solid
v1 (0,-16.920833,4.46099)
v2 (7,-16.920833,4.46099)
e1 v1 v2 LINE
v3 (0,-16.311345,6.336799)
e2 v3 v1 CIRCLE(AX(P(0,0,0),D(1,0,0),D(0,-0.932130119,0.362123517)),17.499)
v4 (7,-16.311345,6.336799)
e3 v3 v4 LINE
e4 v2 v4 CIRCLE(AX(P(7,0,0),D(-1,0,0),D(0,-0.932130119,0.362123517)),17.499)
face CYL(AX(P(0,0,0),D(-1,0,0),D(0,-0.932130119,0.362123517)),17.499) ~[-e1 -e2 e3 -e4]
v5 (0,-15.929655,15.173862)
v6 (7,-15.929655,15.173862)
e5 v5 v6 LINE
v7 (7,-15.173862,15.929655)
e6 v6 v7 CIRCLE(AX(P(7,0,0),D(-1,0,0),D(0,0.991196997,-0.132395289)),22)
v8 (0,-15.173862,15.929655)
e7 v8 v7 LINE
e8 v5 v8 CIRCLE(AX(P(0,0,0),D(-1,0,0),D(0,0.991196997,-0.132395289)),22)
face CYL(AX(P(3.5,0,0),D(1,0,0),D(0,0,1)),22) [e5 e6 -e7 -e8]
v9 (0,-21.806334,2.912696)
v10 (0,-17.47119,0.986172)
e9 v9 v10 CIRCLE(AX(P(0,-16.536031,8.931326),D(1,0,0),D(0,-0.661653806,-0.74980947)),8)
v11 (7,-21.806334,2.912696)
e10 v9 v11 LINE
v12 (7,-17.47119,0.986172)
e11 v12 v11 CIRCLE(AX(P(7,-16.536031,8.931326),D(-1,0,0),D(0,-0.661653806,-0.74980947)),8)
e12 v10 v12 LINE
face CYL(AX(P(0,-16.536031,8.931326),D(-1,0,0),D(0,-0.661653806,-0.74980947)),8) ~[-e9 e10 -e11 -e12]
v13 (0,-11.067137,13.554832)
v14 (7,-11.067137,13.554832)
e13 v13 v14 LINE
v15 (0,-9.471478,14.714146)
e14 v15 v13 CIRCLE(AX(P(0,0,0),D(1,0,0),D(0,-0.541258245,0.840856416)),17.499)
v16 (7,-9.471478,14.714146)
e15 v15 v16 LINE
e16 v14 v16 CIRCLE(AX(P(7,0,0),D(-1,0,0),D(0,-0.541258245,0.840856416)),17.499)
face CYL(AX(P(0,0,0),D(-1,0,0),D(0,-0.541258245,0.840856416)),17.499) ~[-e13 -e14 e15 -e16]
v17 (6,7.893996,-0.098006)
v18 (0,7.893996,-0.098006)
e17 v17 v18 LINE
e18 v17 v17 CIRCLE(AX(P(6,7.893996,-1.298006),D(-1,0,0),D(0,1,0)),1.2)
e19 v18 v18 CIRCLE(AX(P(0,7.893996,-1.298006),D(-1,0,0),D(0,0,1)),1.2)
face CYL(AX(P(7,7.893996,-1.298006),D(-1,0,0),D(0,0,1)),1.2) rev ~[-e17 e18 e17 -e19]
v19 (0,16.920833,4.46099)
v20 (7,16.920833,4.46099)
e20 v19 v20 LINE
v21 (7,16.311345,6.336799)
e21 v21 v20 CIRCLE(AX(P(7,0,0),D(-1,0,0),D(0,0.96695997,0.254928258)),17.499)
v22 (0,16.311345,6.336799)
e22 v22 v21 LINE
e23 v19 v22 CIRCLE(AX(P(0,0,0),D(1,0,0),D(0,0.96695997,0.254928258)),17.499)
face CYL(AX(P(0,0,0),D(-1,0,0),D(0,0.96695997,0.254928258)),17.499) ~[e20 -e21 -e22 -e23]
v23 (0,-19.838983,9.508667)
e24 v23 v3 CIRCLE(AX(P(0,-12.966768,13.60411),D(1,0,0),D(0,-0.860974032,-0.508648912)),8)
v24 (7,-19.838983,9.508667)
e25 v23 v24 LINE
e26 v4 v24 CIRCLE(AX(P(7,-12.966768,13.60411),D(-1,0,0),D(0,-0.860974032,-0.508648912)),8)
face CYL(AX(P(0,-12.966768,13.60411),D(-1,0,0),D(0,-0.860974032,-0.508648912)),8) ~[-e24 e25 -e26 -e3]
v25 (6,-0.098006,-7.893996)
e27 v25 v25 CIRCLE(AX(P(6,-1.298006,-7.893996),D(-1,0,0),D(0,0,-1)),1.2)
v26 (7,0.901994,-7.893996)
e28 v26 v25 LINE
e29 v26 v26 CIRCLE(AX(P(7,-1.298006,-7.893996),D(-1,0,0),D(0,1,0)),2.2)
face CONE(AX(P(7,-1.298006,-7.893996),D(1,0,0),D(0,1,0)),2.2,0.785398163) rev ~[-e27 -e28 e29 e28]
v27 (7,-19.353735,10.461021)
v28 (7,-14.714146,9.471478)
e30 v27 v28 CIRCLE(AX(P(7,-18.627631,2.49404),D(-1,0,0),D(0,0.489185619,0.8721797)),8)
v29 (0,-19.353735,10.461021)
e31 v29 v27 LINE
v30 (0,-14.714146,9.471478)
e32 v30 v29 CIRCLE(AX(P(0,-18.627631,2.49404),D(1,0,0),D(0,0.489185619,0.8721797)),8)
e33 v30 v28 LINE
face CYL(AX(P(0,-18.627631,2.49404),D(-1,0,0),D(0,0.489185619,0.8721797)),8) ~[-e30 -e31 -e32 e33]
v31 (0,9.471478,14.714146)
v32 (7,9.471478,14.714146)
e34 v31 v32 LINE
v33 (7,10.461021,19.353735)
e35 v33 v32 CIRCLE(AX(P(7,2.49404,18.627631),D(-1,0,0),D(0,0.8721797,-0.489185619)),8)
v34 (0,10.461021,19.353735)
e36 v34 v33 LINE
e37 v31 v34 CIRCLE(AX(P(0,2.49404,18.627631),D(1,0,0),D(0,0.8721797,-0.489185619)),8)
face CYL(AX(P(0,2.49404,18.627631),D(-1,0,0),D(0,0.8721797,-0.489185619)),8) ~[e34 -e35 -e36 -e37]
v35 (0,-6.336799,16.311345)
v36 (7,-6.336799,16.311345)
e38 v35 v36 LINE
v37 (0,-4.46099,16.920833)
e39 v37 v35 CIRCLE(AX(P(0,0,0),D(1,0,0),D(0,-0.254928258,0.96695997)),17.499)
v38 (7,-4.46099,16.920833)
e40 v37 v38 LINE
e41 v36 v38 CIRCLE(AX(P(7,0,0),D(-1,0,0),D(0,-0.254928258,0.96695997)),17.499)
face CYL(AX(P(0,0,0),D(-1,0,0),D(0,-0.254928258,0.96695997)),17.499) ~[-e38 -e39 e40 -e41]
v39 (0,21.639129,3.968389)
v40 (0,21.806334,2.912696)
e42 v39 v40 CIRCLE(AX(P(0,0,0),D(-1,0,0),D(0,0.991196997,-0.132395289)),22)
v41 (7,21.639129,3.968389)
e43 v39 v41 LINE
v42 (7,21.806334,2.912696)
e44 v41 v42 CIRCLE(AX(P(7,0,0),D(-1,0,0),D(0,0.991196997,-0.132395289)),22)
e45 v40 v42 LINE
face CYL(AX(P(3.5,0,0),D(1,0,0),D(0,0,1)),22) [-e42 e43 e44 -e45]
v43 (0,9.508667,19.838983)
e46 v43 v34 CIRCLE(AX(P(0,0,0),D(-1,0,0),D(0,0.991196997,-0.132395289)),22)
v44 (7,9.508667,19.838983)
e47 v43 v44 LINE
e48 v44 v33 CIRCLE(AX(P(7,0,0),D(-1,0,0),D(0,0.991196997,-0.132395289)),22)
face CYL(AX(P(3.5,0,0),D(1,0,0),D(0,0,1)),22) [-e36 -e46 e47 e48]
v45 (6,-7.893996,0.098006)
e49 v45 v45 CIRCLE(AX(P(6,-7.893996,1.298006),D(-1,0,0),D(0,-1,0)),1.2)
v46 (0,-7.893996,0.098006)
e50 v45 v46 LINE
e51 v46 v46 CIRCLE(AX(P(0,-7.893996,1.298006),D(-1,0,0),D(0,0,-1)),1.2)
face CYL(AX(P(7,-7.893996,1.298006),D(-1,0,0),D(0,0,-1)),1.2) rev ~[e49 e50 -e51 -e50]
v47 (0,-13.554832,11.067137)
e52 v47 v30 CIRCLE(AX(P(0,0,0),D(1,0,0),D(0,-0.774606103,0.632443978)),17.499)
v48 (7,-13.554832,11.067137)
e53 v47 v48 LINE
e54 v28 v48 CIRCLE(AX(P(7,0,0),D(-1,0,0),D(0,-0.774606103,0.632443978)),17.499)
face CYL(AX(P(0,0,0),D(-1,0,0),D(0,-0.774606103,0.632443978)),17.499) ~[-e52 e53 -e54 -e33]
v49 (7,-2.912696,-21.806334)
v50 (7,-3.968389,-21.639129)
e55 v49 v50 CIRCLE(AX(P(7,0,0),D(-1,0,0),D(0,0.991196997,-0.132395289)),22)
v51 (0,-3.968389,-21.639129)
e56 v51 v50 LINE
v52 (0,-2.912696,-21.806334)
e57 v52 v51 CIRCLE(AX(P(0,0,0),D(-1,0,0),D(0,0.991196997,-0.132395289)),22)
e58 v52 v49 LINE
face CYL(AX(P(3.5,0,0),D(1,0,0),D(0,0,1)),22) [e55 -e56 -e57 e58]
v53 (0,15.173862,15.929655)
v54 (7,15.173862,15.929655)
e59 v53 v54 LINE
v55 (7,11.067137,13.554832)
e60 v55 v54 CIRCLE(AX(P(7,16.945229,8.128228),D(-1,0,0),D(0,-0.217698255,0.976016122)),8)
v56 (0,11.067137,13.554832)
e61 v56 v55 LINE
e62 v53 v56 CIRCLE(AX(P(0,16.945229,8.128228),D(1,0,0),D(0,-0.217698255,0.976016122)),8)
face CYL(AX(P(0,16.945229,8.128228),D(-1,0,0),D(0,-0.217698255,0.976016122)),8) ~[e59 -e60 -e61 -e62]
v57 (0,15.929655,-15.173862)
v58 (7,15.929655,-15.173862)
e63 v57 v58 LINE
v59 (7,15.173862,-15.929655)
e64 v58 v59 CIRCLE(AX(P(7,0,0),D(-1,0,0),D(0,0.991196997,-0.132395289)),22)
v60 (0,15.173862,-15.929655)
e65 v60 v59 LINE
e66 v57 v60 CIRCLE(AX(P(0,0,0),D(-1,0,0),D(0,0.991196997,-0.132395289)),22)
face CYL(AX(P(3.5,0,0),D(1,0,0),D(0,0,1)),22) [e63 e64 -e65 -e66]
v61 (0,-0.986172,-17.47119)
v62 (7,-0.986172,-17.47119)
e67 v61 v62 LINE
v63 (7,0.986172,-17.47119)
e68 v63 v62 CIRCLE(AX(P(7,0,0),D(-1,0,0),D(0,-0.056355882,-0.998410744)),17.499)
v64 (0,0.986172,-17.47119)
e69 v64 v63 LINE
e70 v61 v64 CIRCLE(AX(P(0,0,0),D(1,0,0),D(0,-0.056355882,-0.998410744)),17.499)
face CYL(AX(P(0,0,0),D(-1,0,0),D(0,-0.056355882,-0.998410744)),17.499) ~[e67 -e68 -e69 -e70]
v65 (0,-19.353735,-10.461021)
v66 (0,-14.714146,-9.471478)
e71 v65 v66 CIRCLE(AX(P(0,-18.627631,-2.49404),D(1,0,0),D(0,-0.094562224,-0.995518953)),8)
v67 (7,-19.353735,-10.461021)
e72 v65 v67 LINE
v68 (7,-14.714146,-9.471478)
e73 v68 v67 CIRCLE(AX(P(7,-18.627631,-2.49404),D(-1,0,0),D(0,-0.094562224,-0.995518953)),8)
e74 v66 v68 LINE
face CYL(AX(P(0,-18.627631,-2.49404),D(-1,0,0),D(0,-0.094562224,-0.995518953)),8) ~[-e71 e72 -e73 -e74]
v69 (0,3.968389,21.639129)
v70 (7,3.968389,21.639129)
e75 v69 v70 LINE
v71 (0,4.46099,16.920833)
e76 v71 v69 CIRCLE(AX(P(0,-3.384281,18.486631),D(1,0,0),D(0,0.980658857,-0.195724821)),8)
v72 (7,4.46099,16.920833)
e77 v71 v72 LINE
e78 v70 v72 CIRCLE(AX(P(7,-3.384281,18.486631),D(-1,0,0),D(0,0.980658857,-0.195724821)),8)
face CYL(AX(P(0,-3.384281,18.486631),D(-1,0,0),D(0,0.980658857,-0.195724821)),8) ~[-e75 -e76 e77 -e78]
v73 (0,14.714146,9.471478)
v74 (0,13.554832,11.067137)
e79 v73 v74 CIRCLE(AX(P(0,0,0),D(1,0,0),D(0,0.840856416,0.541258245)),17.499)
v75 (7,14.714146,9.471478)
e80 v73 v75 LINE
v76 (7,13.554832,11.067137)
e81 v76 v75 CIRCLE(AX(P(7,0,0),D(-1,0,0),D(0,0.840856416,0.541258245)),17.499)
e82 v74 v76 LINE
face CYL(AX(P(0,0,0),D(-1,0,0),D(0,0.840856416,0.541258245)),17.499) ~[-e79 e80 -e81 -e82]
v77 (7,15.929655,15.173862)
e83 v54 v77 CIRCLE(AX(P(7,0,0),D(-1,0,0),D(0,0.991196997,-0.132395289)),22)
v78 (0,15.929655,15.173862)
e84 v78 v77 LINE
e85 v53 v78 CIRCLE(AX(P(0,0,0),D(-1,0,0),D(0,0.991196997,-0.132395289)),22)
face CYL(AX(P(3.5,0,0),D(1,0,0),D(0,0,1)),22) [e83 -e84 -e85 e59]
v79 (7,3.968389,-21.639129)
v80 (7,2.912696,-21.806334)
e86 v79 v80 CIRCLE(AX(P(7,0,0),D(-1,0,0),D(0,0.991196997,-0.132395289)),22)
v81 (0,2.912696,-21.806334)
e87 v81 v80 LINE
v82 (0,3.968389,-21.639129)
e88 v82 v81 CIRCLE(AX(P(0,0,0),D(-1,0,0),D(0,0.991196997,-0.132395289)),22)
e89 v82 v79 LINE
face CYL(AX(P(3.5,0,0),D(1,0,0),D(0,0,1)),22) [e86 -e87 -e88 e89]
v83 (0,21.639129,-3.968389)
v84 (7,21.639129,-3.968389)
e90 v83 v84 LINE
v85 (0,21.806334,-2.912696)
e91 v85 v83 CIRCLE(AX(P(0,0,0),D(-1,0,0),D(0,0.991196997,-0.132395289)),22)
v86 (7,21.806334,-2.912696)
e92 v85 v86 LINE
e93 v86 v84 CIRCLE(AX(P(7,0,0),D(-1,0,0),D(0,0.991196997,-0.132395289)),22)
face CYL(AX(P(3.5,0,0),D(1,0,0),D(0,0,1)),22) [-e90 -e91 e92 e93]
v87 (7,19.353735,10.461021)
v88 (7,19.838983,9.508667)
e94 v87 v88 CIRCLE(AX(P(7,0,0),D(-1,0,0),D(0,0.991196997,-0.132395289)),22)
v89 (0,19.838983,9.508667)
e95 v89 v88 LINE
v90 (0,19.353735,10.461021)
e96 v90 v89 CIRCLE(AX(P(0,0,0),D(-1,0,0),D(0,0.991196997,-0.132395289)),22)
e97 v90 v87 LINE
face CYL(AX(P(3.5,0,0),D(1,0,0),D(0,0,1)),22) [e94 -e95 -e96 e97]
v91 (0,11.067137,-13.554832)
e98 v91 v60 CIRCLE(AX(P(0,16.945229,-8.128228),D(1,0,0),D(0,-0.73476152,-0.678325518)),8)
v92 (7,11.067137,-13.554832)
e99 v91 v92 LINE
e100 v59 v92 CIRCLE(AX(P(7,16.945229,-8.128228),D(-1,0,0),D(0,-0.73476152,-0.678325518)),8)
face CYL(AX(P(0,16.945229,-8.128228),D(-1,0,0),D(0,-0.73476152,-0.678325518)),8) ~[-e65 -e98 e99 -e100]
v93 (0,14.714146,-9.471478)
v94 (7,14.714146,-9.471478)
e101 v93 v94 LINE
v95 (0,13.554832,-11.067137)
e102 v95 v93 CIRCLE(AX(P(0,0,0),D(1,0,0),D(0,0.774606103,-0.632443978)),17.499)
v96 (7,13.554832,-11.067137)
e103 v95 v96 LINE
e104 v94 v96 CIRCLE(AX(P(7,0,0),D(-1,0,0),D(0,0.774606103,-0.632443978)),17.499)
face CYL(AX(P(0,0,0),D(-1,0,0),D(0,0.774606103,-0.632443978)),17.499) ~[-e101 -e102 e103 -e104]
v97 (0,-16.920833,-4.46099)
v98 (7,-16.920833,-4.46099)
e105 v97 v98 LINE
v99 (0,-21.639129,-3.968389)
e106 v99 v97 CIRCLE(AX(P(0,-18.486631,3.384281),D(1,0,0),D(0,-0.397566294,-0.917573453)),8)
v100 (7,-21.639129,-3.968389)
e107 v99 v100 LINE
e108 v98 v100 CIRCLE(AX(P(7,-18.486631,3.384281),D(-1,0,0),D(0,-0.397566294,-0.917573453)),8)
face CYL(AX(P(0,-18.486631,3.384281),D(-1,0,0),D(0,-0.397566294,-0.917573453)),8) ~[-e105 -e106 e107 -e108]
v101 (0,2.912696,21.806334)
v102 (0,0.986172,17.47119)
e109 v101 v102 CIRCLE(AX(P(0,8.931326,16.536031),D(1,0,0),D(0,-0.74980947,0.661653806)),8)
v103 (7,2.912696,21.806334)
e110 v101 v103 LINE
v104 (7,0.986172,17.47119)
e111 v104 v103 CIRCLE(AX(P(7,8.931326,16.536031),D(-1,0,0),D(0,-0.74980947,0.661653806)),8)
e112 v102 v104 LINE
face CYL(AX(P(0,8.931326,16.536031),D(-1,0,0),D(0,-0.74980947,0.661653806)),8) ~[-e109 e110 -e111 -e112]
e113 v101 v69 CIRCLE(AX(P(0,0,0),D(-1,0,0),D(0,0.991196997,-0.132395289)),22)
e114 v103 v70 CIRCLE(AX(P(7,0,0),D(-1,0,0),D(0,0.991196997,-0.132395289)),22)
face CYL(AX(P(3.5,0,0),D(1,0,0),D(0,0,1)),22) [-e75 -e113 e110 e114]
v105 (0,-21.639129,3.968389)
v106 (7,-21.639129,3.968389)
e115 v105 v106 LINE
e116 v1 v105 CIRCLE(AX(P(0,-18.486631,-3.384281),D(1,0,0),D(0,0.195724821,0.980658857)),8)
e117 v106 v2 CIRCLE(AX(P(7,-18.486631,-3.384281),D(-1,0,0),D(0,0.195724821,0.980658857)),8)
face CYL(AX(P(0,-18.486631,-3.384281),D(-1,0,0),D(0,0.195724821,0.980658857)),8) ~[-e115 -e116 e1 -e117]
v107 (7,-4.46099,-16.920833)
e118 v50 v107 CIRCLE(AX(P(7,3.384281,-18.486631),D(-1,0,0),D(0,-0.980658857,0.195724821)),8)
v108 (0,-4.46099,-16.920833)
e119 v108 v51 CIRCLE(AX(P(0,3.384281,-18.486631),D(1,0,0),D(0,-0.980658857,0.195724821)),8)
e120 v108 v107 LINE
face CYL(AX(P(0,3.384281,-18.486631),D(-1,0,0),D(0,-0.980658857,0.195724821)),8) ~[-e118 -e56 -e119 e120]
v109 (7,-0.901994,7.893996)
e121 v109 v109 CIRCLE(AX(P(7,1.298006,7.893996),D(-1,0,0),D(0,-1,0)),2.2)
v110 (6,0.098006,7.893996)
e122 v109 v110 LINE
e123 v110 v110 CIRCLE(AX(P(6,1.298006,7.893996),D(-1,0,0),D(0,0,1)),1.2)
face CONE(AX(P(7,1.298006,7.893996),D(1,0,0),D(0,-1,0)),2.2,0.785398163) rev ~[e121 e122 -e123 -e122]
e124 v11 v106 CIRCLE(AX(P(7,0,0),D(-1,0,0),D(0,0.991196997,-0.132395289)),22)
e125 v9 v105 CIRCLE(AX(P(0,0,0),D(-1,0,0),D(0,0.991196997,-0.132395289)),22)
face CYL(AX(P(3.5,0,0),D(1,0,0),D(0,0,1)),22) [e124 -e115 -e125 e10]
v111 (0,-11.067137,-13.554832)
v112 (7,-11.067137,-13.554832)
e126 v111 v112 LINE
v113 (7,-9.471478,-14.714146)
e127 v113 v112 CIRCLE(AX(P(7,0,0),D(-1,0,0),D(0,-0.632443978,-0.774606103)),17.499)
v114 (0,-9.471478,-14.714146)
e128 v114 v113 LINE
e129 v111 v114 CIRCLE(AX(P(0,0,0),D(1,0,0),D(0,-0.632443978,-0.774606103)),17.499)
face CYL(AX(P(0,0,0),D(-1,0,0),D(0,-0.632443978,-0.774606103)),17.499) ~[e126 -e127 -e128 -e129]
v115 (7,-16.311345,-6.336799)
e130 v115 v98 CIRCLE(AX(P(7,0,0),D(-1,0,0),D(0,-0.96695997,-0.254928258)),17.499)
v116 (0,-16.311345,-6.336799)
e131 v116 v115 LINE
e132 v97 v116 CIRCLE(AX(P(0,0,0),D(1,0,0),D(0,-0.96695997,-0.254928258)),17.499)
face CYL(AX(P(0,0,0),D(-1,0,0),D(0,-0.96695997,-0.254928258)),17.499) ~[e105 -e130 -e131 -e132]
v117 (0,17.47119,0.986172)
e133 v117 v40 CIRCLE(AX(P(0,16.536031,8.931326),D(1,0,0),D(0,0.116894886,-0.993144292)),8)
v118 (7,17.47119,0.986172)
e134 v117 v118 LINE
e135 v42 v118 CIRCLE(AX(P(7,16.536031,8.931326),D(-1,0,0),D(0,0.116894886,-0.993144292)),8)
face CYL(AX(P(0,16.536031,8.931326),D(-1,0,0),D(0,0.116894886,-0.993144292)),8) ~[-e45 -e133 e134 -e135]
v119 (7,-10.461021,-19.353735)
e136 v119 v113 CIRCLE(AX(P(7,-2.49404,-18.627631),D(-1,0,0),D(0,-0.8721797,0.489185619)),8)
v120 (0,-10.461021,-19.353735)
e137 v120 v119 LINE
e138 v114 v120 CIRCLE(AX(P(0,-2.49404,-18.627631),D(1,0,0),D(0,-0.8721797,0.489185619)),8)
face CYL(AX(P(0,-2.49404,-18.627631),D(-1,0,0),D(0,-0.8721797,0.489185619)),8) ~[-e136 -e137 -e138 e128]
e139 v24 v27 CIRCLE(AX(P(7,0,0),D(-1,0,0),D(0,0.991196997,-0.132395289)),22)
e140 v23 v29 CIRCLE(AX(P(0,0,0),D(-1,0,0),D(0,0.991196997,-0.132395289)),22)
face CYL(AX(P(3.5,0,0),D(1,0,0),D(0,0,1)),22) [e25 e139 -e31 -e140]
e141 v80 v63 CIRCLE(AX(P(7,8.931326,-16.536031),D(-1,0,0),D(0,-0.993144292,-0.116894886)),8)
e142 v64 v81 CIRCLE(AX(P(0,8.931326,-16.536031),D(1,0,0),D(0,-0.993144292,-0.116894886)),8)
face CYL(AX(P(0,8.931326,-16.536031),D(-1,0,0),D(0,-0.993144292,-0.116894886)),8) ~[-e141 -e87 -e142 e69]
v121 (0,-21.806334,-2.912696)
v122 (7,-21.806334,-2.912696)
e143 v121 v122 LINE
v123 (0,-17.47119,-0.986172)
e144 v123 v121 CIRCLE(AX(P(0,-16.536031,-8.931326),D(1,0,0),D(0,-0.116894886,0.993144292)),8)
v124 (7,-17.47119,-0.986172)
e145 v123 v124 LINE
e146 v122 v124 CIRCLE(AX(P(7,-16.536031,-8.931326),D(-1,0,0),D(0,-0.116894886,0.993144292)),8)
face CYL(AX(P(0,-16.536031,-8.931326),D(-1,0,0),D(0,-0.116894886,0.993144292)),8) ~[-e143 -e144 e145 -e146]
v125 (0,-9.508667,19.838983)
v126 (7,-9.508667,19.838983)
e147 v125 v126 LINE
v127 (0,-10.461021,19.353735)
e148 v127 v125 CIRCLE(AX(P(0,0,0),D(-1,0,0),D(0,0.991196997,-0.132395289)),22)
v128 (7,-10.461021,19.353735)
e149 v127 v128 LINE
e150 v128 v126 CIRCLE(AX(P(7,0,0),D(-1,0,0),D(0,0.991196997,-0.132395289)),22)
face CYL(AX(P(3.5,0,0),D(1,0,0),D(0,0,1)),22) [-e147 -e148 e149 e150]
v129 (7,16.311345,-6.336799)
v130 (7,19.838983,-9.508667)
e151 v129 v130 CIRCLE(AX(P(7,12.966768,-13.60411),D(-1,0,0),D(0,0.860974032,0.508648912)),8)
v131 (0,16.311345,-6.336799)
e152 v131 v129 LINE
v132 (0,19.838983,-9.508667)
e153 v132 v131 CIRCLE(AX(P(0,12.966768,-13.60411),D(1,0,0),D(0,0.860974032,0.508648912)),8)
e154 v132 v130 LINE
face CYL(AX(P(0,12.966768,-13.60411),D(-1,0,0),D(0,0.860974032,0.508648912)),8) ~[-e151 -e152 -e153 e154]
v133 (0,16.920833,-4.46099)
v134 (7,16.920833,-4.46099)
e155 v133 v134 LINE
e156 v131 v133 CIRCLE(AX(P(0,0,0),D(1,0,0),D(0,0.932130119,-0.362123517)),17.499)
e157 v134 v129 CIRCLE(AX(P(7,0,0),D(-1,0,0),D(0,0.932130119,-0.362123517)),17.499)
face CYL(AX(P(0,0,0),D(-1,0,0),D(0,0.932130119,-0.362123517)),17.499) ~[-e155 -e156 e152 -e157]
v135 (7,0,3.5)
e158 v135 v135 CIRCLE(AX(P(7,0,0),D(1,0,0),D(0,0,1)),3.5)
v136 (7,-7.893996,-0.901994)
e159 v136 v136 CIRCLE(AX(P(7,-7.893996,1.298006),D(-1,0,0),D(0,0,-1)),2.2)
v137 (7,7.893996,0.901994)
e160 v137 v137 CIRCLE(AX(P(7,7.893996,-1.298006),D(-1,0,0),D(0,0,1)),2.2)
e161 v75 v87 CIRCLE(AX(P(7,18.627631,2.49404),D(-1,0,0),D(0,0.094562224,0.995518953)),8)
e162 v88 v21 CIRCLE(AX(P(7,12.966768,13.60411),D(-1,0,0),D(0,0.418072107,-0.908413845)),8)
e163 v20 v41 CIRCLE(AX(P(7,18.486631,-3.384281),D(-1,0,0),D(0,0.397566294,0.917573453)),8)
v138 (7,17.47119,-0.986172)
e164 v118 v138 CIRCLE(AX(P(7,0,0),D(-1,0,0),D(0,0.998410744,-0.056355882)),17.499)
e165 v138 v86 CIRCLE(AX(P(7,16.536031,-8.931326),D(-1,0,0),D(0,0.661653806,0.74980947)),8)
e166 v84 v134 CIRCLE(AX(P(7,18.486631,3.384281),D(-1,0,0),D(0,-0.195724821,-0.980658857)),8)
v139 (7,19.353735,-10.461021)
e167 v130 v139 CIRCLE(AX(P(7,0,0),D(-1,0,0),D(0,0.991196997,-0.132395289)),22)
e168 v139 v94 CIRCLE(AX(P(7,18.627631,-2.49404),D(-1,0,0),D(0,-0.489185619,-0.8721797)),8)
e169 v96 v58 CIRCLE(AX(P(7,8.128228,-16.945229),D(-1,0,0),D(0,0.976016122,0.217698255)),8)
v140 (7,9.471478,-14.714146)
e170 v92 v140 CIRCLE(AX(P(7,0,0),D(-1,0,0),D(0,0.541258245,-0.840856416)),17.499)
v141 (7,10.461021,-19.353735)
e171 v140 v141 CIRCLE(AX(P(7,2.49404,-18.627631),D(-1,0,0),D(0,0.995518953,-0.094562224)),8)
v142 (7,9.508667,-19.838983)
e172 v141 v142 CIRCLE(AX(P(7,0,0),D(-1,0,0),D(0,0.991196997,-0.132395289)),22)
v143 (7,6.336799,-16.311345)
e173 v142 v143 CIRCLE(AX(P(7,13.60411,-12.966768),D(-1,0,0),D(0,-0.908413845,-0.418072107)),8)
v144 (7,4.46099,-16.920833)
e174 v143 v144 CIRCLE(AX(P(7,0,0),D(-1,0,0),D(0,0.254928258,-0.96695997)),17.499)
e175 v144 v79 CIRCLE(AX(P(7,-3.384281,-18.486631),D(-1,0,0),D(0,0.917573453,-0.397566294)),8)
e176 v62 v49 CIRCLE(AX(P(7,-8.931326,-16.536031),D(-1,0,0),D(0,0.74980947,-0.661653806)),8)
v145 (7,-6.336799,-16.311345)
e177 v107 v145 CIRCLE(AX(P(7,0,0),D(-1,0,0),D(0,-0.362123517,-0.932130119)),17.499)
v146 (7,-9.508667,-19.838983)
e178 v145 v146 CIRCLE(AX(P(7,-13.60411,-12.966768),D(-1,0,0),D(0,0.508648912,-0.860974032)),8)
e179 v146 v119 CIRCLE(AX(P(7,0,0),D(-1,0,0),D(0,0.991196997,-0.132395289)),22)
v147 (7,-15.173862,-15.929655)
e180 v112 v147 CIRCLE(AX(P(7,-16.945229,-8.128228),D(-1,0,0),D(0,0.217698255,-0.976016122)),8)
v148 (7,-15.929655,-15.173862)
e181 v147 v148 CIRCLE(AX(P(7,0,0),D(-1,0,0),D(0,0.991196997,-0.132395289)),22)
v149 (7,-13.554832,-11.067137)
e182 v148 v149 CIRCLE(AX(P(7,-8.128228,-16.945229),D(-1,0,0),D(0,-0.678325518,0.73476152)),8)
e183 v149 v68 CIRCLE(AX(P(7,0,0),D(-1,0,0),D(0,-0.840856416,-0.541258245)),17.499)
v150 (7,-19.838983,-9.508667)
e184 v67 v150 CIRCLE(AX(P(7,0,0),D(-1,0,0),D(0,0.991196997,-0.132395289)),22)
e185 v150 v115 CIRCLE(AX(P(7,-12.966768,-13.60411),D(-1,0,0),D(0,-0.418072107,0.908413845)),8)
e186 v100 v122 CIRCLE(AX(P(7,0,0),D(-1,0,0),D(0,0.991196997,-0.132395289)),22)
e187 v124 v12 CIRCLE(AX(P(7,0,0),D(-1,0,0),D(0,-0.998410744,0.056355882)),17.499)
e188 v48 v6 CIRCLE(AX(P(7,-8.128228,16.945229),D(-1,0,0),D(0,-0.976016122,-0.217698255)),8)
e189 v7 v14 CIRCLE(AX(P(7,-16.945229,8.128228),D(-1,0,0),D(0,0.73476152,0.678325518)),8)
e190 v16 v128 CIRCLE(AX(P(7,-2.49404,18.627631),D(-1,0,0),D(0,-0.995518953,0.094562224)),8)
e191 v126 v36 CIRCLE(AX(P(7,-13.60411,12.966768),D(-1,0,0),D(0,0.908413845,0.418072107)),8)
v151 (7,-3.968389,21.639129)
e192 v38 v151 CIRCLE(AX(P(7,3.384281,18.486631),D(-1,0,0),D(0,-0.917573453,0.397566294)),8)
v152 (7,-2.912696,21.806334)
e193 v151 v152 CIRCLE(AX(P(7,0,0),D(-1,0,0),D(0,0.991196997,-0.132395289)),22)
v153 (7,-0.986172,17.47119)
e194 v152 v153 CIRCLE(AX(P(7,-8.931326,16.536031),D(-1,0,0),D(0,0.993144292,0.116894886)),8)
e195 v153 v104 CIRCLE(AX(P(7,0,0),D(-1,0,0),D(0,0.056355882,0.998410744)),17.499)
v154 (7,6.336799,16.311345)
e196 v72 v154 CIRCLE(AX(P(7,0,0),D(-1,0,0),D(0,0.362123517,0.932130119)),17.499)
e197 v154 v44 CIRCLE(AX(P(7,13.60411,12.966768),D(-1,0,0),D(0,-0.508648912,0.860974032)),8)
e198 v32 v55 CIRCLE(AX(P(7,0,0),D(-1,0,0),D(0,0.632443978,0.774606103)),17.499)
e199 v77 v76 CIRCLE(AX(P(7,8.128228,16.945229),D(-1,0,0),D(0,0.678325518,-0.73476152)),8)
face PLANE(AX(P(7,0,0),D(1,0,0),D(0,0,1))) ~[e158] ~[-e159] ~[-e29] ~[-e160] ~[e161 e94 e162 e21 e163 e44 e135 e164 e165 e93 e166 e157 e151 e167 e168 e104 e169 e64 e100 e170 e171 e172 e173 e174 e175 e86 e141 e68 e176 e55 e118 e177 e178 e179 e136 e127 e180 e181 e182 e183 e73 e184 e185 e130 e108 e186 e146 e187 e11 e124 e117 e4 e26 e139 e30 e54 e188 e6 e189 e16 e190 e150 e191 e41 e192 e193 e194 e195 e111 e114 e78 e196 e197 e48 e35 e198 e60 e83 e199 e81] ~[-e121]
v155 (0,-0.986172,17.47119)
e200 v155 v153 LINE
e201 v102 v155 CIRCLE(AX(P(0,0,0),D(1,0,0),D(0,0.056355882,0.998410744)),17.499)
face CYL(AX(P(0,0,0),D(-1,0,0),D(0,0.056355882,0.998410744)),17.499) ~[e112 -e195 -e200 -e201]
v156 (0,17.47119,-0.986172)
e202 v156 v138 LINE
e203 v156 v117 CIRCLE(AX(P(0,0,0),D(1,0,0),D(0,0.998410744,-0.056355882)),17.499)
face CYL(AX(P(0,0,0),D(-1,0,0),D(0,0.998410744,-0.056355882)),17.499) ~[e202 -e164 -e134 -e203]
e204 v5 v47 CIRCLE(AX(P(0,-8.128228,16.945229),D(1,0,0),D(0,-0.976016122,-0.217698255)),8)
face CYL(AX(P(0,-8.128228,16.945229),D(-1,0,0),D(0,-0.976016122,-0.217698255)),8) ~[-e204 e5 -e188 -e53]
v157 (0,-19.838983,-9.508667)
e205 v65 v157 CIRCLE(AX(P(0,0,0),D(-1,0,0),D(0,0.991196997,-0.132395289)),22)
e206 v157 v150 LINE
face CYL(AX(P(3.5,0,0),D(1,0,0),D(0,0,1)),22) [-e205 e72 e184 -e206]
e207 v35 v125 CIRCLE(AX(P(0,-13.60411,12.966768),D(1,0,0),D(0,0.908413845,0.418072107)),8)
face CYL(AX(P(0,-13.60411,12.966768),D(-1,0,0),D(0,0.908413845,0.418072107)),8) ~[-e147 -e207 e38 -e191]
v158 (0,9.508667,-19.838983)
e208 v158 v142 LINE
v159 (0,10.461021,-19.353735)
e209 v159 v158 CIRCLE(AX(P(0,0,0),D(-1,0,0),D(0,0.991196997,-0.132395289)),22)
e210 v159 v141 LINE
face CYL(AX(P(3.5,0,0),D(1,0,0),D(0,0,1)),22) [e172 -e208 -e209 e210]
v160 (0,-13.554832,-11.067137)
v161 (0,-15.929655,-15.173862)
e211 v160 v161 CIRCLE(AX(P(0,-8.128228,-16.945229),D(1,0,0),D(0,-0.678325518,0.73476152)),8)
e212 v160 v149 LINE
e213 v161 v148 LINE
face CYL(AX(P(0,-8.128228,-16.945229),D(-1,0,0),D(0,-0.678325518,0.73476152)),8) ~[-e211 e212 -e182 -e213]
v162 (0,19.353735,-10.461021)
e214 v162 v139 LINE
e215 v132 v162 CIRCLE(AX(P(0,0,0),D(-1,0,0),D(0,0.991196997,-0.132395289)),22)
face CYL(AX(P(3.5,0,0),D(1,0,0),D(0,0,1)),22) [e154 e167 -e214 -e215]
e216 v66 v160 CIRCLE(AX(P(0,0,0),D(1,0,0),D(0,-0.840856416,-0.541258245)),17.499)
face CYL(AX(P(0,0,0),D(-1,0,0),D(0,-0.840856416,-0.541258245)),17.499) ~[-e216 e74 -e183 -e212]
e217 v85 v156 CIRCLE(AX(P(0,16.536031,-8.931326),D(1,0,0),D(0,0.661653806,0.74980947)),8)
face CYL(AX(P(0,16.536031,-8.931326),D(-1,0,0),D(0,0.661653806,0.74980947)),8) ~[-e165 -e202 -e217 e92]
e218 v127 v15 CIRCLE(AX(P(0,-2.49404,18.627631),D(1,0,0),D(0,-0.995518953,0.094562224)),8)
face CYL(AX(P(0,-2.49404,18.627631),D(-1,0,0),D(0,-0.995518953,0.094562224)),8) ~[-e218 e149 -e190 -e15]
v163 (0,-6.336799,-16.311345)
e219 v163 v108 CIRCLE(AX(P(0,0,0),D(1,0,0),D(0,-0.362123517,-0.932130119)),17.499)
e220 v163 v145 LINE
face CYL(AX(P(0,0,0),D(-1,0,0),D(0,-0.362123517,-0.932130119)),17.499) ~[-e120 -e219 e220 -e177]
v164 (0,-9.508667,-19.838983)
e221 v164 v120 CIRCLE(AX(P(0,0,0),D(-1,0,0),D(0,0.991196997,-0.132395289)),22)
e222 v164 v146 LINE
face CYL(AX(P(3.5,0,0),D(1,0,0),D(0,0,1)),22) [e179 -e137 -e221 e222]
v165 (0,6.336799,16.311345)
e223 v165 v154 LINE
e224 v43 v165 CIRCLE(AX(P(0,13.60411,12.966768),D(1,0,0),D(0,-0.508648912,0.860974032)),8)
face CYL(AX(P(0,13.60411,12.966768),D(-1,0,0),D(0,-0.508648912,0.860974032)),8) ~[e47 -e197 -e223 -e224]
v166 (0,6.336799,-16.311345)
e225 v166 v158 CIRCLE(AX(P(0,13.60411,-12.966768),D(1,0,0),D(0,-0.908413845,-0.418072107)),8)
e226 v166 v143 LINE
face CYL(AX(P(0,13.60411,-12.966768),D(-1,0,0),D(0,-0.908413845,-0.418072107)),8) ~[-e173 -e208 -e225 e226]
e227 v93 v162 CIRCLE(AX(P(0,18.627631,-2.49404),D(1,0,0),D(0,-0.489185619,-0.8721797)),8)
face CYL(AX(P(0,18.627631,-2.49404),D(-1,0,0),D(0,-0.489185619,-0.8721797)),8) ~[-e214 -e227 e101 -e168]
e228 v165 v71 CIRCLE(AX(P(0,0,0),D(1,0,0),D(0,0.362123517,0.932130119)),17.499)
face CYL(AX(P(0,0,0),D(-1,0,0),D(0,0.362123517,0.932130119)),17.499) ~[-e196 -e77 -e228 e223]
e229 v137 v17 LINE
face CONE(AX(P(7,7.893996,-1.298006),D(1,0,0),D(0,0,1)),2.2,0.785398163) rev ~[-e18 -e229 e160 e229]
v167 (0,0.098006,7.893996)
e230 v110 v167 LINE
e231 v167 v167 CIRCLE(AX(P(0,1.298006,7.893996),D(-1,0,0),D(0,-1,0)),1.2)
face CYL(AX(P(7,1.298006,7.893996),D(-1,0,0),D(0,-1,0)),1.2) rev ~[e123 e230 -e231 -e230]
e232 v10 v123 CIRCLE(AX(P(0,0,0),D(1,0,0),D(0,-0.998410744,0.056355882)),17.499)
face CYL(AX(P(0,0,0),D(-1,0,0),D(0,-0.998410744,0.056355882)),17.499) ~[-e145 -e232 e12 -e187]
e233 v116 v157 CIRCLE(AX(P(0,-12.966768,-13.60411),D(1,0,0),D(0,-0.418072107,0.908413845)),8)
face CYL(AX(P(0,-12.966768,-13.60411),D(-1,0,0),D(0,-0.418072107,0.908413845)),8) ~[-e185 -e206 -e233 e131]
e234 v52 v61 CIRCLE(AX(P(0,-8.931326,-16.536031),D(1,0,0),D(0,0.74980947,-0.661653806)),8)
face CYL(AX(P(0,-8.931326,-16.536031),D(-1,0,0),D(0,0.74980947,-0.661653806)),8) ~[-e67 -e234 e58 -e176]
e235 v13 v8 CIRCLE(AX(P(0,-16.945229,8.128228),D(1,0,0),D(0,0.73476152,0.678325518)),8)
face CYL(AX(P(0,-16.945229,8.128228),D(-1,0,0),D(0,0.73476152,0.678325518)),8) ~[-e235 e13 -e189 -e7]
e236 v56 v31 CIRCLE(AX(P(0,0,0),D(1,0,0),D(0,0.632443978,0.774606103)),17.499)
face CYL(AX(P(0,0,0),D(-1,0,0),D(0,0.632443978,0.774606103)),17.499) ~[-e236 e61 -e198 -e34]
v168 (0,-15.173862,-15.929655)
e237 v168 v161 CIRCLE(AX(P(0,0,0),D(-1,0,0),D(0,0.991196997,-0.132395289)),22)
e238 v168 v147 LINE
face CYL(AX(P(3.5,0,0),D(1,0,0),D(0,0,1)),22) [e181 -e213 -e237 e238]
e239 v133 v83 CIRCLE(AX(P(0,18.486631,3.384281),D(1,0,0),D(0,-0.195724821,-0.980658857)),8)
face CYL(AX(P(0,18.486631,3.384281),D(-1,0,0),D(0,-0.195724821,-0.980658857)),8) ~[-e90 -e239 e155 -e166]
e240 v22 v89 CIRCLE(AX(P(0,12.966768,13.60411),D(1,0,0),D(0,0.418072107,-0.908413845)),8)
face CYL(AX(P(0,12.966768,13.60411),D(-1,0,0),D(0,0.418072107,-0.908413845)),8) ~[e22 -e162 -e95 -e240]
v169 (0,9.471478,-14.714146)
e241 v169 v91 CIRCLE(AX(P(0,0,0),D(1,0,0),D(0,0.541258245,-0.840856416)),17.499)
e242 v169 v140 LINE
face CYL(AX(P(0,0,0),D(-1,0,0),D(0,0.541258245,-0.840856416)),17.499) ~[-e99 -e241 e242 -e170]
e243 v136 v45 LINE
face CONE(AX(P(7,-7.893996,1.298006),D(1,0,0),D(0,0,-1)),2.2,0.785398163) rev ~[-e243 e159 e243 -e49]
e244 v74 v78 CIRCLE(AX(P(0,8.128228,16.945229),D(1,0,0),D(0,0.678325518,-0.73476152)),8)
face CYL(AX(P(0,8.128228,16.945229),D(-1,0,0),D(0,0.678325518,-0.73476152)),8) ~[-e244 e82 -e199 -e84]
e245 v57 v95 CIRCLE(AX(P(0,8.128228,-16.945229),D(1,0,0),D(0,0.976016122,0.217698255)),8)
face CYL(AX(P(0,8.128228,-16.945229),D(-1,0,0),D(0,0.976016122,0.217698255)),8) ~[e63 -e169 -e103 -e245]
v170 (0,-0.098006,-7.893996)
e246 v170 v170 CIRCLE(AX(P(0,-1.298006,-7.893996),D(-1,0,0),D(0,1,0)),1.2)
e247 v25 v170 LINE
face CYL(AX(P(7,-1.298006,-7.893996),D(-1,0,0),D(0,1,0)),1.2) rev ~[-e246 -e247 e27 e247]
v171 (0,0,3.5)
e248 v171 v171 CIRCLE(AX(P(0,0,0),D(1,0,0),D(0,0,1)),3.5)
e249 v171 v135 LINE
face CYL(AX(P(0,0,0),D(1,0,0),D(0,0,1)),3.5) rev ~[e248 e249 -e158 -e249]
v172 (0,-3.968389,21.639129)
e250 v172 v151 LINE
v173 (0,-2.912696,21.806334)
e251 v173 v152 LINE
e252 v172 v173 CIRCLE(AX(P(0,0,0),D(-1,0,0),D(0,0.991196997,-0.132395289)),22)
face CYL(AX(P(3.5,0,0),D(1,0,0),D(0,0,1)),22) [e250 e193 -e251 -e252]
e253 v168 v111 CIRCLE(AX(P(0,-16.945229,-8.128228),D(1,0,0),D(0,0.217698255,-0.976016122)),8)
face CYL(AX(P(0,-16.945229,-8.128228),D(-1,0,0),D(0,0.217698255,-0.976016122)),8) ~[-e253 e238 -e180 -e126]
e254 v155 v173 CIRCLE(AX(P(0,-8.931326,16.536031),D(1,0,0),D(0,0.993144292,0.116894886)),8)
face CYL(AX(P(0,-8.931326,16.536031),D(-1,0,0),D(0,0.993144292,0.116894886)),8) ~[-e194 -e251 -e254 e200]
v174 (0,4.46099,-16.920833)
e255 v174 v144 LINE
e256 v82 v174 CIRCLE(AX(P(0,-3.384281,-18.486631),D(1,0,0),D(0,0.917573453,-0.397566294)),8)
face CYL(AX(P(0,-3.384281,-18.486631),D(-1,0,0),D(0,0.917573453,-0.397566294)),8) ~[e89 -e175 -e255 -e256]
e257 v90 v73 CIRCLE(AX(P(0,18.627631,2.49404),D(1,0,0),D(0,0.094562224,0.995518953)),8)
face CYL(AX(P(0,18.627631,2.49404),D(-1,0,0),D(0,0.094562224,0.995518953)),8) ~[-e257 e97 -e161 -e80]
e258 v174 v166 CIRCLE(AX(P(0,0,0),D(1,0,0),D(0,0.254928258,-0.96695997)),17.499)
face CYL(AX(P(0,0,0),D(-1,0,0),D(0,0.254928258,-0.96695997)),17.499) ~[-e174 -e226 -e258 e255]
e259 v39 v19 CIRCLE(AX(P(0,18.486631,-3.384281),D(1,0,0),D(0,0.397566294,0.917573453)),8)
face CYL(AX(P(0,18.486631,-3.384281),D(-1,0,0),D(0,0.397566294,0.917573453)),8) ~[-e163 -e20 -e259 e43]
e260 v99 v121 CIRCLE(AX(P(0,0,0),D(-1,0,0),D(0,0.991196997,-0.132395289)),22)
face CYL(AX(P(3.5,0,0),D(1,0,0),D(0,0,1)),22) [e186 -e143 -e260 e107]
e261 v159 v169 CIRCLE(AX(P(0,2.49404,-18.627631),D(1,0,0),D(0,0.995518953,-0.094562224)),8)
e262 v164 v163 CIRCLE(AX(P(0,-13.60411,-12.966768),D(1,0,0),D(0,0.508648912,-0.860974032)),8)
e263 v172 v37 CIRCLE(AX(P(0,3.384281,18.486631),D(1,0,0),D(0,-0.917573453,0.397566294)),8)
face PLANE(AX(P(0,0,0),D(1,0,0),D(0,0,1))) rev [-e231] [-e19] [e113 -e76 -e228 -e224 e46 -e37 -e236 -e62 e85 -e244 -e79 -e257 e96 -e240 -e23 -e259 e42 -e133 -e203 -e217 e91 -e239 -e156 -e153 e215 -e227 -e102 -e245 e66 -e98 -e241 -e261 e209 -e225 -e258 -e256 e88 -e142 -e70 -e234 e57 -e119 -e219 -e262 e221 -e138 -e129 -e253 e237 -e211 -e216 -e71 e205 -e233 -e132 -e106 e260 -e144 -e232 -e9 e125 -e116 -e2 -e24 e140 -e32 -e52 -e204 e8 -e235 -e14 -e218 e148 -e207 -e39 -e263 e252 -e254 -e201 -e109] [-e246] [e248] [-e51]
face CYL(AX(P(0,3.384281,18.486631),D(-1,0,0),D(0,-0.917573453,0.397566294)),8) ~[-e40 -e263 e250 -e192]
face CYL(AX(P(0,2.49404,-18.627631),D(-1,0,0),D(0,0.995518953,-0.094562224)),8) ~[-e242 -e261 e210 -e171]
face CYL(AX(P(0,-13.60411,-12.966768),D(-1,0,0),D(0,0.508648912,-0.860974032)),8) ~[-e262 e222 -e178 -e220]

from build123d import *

# Parameters (mm, degrees)
BASPROSKE_W                                    = 7
BASPROSKE_H                                    = 22
TOOTHCUT_DEPTH                                 = 32.890437438
TEETHCUTS_COUNT                                = 20
TEETHCUTS_ANGLE                                = 342
BORSKE_R                                       = 3.5
BORE_DEPTH                                     = 50.0000508
FRAISAGE_POUR_VIS_T_TE_FRAIS_E_M21_D           = 2.4
FRAISAGE_POUR_VIS_T_TE_FRAIS_E_M21_CSINK_D     = 4.4
FRAISAGE_POUR_VIS_T_TE_FRAIS_E_M21_CSINK_ANGLE = 90
R_P_TITION_CIRCULAIRE1_COUNT                   = 4


with BuildPart() as part:
    # BasProSke → Base-Revolve (revolve)
    with BuildSketch(Plane(origin=(0, 0, 0), x_dir=(1, 0, 0), z_dir=(0, 1, 0)), mode=Mode.PRIVATE) as base_revolve_sk:
        with Locations((3.5, 11)):
            Rectangle(BASPROSKE_W, BASPROSKE_H)
    revolve(base_revolve_sk.sketch.rotate(Axis((-10, 0, 0), (1, 0, 0)), 180), axis=Axis((-10, 0, 0), (1, 0, 0)))

    # TooCutSke → ToothCut (cut, through all)
    with BuildSketch(Plane(origin=(0, 0, 0), x_dir=(0, 0, -1), z_dir=(1, 0, 0))):
        with BuildLine():
            ThreePointArc((0.986171591, 17.471189616), (0, 17.499), (-0.986171591, 17.471189616))
            ThreePointArc((-0.986171591, 17.471189616), (-1.626916196, 19.798789858), (-2.932850173, 21.829260982))
            ThreePointArc((-2.932850173, 21.829260982), (0, 22.0254), (2.932850173, 21.829260982))
            ThreePointArc((2.932850173, 21.829260982), (1.626916196, 19.798789858), (0.986171591, 17.471189616))
        make_face()
    toothcut = extrude(amount=TOOTHCUT_DEPTH, mode=Mode.SUBTRACT)

    # TeethCuts: ToothCut ×20 about axis
    teethcuts_axis = Axis((-10, 0, 0), (1, 0, 0))
    for i in range(1, TEETHCUTS_COUNT):
        add(toothcut.rotate(teethcuts_axis, i * TEETHCUTS_ANGLE / (TEETHCUTS_COUNT - 1)), mode=Mode.SUBTRACT)

    # BorSke → Bore (cut, symmetric)
    with BuildSketch(Plane(origin=(0, 0, 0), x_dir=(0, 0, -1), z_dir=(1, 0, 0))):
        with Locations(Location((0, 0, 0), (0, 0, 180))):
            Circle(BORSKE_R)
    extrude(amount=BORE_DEPTH, both=True, mode=Mode.SUBTRACT)

    # Fraisage pour vis à tête fraisée M21 (through all)
    with Locations(Plane(origin=(7, 0, 0), x_dir=(0, 0, -1), z_dir=(1, 0, 0))):
        with Locations((1.298006129, 7.893996459)):
            fraisage_pour_vis_t_te_frais_e_m21 = CounterSinkHole(FRAISAGE_POUR_VIS_T_TE_FRAIS_E_M21_D / 2, FRAISAGE_POUR_VIS_T_TE_FRAIS_E_M21_CSINK_D / 2, counter_sink_angle=FRAISAGE_POUR_VIS_T_TE_FRAIS_E_M21_CSINK_ANGLE)

    # Répétition circulaire1: Fraisage pour vis à tête fraisée M21 ×4 about axis
    r_p_tition_circulaire1_axis = Axis((0, 0, 0), (1, 0, 0))
    for i in range(1, R_P_TITION_CIRCULAIRE1_COUNT):
        add(fraisage_pour_vis_t_te_frais_e_m21.rotate(r_p_tition_circulaire1_axis, i * 360 / R_P_TITION_CIRCULAIRE1_COUNT), mode=Mode.SUBTRACT)


solid = part.part
